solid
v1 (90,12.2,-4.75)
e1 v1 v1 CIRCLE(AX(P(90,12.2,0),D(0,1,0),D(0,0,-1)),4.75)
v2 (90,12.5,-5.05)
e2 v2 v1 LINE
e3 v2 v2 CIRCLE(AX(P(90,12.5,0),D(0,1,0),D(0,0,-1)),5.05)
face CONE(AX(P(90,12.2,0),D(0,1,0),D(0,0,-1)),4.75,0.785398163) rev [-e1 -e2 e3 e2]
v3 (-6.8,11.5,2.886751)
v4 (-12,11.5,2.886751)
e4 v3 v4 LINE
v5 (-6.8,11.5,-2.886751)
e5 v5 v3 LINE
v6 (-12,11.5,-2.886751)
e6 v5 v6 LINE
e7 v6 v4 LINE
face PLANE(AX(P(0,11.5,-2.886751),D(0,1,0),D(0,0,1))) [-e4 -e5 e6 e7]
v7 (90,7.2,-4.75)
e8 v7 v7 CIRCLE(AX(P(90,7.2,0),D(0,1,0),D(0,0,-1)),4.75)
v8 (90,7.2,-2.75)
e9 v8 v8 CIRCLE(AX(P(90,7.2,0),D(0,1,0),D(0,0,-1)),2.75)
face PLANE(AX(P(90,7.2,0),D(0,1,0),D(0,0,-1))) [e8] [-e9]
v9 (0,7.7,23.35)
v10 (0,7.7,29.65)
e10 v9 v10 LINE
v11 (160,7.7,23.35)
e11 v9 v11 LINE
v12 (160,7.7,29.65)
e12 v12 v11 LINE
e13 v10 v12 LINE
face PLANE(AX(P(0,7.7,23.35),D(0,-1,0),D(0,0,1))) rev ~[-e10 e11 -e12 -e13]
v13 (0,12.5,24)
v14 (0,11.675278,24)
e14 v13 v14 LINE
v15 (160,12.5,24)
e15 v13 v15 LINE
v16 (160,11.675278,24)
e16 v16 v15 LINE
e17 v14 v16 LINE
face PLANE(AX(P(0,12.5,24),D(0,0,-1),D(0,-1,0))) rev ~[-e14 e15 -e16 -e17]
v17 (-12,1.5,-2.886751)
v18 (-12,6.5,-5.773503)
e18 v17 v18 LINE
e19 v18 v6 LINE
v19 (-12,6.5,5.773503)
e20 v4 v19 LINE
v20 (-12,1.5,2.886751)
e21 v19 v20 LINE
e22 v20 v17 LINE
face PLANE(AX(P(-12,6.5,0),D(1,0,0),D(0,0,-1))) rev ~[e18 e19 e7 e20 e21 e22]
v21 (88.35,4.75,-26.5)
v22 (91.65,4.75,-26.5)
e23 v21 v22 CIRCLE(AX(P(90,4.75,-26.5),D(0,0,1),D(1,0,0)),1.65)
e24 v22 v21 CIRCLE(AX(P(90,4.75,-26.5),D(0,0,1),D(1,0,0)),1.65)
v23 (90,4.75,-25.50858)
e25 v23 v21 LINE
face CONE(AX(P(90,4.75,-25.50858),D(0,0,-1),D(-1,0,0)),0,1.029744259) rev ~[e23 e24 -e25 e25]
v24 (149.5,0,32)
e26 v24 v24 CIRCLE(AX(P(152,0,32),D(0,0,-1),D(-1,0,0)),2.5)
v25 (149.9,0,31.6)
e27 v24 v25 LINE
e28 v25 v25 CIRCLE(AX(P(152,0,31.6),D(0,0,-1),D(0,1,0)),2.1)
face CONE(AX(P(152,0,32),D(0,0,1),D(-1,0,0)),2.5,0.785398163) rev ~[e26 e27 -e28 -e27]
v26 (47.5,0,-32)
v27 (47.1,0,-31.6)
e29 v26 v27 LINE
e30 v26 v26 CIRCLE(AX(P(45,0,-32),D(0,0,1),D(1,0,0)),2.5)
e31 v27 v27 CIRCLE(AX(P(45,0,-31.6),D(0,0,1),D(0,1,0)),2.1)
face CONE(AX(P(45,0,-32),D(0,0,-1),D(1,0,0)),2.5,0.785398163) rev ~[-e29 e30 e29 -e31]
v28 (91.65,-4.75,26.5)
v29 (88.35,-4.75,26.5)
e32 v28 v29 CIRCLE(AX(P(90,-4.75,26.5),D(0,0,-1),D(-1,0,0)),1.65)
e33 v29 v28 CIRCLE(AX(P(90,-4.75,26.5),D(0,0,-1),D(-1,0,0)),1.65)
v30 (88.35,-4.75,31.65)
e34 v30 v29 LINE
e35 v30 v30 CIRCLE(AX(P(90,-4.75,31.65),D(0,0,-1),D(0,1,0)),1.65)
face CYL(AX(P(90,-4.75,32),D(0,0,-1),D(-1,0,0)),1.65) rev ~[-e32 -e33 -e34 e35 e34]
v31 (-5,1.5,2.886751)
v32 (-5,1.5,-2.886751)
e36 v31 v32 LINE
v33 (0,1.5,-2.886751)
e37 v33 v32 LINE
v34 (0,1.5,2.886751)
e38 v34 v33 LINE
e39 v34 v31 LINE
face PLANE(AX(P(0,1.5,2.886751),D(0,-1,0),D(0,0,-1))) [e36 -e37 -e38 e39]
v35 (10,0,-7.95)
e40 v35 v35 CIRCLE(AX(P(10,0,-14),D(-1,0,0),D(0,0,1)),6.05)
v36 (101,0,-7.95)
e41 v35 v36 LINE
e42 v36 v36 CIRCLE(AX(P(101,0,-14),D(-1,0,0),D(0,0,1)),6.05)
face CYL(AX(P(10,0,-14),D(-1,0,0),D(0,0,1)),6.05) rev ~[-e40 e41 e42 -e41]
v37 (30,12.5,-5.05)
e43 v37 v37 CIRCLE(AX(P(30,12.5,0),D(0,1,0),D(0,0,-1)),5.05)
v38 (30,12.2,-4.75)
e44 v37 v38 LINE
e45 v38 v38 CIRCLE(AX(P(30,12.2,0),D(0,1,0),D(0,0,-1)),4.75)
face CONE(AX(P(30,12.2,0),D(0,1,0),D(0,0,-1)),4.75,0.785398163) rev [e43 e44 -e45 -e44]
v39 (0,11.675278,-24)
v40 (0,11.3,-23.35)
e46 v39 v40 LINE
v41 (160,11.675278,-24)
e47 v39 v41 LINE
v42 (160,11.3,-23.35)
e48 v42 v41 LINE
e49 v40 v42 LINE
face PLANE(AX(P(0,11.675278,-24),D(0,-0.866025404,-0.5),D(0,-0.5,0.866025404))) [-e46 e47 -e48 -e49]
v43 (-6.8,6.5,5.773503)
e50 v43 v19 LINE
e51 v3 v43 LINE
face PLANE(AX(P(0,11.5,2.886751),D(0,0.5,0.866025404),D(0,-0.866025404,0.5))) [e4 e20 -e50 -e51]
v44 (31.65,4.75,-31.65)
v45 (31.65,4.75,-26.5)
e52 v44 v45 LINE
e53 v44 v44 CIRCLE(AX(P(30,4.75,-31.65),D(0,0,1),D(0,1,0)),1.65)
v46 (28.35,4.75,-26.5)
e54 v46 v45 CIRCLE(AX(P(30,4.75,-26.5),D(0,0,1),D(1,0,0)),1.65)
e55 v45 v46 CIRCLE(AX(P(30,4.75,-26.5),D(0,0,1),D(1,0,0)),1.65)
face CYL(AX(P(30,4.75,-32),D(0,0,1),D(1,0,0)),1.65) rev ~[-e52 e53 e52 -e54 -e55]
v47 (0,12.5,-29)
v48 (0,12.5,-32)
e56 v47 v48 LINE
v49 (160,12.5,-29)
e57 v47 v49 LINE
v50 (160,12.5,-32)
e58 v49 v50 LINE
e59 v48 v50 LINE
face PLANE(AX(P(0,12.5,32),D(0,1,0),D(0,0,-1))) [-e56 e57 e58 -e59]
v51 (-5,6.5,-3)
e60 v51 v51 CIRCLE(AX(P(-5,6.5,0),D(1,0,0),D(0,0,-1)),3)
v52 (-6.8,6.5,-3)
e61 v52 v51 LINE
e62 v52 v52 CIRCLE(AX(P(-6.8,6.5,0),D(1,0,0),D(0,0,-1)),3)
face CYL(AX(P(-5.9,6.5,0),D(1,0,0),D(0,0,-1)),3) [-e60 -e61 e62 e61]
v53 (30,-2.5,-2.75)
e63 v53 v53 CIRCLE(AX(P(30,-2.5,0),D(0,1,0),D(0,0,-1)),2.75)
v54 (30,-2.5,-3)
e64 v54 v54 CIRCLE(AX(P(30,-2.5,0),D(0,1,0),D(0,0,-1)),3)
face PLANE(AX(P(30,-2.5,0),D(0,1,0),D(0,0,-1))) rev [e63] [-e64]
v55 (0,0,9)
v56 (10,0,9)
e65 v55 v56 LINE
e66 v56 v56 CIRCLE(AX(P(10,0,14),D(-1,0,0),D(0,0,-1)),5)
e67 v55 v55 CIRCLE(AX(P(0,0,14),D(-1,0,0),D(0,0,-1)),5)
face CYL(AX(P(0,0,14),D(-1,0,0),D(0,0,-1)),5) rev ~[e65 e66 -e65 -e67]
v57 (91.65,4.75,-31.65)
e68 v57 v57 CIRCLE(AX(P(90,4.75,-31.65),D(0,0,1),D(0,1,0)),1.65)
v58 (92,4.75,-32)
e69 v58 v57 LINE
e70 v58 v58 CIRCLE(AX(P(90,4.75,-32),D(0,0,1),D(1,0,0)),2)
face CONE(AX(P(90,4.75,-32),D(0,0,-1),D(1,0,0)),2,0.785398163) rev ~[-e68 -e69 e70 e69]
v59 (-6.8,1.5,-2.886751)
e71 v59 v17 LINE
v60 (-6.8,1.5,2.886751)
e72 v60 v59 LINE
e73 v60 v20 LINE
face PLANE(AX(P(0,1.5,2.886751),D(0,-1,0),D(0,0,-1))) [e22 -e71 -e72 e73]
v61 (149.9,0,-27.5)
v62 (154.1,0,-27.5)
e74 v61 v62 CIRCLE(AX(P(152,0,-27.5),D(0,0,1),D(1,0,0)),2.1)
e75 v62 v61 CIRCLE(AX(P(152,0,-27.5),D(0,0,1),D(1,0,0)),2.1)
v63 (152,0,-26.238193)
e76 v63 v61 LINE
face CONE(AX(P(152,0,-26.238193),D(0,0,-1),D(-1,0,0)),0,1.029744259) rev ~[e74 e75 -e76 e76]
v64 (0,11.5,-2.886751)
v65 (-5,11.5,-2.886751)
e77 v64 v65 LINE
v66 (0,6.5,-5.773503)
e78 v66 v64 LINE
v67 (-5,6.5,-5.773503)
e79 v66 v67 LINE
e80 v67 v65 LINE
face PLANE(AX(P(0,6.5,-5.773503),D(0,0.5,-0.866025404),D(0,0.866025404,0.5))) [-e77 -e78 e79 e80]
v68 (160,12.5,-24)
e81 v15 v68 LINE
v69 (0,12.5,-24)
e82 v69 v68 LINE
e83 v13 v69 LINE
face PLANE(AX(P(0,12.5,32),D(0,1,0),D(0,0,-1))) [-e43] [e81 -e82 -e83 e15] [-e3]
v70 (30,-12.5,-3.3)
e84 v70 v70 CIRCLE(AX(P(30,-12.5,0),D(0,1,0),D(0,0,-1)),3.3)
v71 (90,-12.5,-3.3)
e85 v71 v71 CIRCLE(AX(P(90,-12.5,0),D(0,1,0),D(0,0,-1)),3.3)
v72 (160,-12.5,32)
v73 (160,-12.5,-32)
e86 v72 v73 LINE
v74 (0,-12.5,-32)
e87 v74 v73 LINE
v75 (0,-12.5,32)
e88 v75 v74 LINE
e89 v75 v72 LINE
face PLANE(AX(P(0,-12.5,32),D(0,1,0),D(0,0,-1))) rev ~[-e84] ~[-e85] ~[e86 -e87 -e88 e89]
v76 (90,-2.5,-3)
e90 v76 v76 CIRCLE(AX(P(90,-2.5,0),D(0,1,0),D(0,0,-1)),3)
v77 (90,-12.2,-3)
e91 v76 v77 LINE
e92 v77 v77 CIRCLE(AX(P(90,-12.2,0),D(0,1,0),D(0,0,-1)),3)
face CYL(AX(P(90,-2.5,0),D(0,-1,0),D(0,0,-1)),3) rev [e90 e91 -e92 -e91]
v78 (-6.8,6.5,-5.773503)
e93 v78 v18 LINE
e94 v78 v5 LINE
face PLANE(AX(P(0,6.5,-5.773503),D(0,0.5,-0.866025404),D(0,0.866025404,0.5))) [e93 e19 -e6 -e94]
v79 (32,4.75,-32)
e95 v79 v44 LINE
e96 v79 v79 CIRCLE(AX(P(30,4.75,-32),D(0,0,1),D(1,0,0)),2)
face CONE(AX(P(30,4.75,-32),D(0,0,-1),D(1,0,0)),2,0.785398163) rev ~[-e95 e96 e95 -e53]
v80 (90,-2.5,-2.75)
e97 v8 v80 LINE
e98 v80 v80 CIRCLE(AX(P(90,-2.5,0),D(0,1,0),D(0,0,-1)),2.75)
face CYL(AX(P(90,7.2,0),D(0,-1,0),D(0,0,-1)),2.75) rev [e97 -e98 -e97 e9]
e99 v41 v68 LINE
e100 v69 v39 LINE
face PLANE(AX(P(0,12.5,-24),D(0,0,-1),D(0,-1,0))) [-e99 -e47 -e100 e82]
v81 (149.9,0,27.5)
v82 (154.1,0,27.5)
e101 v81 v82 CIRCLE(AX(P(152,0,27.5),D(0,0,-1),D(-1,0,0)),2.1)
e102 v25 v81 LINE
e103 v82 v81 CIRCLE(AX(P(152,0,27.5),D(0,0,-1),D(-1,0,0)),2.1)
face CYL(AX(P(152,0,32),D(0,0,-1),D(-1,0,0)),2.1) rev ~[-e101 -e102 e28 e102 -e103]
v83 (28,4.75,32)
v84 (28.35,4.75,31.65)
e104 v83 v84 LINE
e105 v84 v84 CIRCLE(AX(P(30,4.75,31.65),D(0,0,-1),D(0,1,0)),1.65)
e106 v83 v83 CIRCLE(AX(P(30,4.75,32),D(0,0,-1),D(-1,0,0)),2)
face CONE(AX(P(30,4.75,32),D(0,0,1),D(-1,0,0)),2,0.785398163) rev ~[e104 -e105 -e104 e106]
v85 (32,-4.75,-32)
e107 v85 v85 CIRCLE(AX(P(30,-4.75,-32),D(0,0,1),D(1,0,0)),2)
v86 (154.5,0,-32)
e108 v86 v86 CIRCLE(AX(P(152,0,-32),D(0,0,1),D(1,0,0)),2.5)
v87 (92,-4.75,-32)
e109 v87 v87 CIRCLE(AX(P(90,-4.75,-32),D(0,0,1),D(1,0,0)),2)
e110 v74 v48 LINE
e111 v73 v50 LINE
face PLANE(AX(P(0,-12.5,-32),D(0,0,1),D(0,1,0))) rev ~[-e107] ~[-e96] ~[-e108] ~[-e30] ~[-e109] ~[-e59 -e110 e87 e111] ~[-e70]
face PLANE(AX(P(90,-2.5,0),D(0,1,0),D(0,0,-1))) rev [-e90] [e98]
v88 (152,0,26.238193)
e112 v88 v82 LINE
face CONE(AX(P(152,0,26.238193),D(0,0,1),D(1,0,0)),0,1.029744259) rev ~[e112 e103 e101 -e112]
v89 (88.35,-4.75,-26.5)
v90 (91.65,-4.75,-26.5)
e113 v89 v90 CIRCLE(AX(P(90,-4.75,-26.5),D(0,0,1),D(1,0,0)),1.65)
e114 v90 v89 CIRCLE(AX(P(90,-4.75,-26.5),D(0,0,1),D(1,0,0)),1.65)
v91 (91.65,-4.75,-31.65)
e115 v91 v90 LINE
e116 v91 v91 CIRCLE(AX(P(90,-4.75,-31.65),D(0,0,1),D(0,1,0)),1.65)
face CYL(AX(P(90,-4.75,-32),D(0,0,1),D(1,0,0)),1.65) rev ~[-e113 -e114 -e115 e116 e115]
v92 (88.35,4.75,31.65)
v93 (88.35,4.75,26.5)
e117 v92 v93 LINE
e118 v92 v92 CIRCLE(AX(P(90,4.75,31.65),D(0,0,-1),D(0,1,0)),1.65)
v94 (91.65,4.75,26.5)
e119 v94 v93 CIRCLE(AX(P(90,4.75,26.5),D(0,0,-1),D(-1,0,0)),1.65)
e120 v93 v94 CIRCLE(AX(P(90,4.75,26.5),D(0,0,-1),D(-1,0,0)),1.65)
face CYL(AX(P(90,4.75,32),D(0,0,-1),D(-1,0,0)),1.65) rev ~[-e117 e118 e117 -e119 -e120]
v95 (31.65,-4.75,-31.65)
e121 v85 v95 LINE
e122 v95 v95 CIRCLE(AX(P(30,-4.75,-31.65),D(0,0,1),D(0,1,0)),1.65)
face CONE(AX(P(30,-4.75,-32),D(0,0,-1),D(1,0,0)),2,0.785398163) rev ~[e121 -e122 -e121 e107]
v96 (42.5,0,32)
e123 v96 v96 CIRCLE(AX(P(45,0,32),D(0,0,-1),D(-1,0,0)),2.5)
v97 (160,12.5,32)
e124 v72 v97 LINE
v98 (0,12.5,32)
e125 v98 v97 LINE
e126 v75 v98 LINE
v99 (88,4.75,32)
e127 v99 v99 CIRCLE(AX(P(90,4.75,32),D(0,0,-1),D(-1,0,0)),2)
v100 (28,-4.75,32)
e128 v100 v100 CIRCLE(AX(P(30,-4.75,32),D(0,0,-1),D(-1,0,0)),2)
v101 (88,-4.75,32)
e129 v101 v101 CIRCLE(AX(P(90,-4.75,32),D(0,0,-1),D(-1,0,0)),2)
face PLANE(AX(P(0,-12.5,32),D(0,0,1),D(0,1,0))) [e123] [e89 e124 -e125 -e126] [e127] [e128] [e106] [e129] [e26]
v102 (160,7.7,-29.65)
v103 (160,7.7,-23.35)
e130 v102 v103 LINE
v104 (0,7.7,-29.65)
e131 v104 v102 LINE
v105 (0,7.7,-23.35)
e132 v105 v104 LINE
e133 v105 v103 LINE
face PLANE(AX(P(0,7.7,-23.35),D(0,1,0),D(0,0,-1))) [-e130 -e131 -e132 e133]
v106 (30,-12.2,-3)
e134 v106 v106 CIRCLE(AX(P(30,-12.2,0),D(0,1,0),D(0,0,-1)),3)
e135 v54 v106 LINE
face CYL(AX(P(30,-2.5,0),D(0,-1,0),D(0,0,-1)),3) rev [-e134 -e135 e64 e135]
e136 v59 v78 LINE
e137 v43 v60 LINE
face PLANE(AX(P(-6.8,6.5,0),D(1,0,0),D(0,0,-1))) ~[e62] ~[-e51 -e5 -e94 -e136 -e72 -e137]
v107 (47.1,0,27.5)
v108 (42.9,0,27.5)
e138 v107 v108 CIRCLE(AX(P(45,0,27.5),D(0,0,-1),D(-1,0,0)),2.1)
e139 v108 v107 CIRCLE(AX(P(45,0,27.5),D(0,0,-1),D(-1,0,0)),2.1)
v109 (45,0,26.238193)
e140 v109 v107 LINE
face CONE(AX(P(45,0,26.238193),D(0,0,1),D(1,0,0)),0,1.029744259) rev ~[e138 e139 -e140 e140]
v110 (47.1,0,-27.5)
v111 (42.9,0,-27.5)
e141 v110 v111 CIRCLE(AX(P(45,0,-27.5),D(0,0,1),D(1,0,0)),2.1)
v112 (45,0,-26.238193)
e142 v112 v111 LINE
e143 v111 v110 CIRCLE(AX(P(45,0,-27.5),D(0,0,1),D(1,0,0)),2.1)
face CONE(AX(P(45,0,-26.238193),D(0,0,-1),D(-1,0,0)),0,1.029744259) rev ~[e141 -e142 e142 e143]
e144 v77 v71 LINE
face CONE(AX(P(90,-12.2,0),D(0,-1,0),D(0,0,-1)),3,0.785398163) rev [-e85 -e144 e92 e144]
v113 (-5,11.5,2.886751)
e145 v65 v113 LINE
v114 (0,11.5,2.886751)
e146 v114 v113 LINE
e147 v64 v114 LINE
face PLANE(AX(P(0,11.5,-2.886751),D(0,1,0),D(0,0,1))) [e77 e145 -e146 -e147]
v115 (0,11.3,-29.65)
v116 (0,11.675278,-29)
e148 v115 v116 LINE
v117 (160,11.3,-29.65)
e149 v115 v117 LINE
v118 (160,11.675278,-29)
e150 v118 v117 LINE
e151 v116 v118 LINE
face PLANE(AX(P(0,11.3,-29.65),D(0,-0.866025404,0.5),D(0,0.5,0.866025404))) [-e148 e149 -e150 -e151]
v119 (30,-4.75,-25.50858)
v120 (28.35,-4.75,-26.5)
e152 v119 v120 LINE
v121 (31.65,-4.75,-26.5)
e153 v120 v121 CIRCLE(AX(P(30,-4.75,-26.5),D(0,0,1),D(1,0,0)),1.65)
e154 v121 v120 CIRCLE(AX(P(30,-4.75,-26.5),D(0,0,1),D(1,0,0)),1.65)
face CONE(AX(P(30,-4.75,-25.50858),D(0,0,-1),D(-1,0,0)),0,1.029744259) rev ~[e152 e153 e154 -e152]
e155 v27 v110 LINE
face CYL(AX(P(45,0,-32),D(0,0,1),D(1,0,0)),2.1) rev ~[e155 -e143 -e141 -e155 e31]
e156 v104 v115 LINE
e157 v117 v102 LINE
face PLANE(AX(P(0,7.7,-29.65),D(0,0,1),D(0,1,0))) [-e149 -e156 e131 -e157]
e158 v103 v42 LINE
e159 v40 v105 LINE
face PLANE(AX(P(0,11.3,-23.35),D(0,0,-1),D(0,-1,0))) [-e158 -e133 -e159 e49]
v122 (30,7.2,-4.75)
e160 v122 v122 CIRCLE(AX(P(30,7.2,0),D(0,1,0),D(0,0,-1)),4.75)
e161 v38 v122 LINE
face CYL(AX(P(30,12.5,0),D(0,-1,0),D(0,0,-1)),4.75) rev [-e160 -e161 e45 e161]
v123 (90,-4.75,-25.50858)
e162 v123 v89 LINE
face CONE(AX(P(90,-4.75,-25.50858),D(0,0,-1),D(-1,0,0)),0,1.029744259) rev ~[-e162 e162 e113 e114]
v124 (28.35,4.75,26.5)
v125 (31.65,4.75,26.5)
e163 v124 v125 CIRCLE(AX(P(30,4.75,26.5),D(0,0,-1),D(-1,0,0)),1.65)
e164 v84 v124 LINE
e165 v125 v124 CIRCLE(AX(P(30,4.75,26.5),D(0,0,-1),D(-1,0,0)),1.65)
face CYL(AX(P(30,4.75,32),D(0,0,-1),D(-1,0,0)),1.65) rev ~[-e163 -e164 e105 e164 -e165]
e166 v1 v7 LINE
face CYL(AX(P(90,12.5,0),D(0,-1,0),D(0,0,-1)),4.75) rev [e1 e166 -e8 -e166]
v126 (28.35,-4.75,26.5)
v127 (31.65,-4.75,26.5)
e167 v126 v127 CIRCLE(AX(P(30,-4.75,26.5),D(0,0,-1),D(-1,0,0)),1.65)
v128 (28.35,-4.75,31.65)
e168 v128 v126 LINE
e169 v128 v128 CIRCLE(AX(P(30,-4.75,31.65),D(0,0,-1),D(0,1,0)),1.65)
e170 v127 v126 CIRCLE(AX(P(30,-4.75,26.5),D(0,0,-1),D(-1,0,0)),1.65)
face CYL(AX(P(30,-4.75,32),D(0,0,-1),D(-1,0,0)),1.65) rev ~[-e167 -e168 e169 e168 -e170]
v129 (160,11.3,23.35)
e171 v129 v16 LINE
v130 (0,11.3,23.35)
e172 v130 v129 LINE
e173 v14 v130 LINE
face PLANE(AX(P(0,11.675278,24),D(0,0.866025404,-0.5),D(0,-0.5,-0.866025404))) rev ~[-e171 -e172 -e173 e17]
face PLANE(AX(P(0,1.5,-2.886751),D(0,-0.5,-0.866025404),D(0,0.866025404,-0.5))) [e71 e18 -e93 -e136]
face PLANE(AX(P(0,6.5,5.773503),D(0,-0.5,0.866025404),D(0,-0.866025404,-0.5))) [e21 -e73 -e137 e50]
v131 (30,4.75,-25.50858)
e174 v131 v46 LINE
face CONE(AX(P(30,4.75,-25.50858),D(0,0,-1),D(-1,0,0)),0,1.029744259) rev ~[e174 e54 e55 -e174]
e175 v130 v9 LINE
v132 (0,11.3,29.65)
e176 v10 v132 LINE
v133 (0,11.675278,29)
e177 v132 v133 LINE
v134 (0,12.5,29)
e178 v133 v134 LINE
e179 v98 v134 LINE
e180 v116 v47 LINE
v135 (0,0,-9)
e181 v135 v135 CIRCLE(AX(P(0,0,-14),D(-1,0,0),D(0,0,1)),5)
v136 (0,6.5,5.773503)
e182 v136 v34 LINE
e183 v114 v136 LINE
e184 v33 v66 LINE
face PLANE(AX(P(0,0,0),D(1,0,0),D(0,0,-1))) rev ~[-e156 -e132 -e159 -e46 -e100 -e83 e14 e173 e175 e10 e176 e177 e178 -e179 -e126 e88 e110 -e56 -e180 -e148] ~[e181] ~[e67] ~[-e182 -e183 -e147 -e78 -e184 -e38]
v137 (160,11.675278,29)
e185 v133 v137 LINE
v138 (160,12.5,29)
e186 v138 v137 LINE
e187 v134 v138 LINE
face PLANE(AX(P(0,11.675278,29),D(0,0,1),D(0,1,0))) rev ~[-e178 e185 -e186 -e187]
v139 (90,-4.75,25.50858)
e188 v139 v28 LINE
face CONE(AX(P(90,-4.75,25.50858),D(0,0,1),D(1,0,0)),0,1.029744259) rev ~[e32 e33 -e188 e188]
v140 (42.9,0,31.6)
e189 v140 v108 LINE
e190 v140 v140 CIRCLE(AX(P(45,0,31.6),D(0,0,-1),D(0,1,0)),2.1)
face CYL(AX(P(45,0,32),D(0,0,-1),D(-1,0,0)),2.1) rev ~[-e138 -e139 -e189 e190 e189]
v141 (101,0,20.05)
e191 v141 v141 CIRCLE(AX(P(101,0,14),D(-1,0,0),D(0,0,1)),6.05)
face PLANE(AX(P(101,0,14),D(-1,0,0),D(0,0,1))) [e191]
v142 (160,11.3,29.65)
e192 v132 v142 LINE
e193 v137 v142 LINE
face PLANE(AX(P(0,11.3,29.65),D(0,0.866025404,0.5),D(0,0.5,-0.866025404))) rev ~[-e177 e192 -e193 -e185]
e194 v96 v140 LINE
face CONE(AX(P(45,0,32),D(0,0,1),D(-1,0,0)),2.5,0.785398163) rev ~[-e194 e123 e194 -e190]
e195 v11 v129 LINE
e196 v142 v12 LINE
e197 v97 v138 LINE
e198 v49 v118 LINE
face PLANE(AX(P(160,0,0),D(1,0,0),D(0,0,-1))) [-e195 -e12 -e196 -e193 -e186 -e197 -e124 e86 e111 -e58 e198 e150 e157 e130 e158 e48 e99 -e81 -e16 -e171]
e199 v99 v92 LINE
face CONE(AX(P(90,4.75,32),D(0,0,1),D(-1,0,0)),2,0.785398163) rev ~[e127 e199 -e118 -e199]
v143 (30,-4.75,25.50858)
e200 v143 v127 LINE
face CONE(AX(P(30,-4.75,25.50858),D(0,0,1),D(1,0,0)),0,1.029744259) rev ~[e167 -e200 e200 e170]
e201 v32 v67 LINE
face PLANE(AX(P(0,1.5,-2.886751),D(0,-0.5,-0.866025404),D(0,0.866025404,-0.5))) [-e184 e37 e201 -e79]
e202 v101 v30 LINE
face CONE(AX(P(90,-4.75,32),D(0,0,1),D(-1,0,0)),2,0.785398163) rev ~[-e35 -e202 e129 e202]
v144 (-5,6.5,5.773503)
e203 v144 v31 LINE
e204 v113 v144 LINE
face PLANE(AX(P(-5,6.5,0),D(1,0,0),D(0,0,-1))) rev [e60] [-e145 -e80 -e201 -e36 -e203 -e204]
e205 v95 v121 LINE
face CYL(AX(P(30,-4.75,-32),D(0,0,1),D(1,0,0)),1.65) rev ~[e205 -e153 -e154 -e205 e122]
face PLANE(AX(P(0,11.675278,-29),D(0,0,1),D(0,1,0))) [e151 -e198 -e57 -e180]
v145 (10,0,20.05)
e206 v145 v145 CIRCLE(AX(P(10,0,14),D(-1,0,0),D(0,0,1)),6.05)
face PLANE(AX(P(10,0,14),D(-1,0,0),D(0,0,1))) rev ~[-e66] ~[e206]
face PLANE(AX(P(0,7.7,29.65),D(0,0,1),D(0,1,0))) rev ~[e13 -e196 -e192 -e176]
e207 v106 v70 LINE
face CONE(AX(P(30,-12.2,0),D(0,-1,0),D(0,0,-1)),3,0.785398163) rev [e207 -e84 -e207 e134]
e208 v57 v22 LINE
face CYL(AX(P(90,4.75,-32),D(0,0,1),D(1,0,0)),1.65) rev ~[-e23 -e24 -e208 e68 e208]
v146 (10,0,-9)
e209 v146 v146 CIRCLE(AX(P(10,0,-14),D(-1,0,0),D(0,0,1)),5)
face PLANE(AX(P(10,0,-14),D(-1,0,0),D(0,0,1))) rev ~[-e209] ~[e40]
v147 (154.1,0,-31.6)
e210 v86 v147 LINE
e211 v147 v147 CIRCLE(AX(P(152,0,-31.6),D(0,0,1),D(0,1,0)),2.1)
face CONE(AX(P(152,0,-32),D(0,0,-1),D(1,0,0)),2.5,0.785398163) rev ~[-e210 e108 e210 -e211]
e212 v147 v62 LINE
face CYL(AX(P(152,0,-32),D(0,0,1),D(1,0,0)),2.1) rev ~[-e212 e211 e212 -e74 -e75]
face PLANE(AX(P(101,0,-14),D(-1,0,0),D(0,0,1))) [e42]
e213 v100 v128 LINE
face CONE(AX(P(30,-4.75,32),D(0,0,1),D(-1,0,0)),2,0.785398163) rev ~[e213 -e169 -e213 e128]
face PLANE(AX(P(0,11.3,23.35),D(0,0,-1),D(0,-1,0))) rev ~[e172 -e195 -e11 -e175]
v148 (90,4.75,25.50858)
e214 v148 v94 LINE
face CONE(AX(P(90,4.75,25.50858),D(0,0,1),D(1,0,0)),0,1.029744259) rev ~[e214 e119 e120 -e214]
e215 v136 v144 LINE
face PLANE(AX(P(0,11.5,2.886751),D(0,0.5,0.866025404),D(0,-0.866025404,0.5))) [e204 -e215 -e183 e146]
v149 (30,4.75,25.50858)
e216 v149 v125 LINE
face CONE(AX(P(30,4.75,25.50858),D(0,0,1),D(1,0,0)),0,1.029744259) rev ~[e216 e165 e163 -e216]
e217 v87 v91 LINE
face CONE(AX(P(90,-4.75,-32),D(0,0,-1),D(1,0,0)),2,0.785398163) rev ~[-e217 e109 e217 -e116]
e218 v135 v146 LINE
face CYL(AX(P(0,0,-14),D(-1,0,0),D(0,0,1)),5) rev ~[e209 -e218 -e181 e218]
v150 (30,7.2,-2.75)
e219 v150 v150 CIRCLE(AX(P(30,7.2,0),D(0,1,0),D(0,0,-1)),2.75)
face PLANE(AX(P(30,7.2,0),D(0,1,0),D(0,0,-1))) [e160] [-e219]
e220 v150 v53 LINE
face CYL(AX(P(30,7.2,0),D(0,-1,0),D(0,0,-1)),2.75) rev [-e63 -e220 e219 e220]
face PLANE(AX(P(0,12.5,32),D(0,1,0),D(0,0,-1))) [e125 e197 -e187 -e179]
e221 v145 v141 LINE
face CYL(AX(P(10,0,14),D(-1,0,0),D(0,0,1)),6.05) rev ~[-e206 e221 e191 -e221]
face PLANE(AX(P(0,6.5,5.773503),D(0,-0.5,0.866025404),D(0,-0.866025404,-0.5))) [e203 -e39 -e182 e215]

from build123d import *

# Parameters (mm, degrees)
BODY_SKETCH_W                                = 64
BODY_SKETCH_H                                = 25
BODY_DEPTH                                   = 160
BODY_ROD_HOLES_SKETCH_R                      = 5
BODY_ROD_HOLES_DEPTH                         = 10
BODY_PISTON_HOLES_SKETCH_R                   = 6.05
BODY_PISTON_HOLES_DEPTH                      = 91
TOP_SWITCH_GROOVES_DEPTH                     = 164.646723157
SHCS_MGT_HOLE_CHAM_SIZE                      = 0.3
SHCS_MGT_HOLE_PAT_COUNT                      = 2
SHCS_MGT_HOLE_PAT_PITCH                      = 60
SHCS_MGT_HOLE_CHAM_OF_SHCS_MGT_HOLE_PAT_SIZE = 0.3
SHCS_MGT_HOLE_BOT_TAP_AT_2_COUNT             = 2
SHCS_MGT_HOLE_BOT_TAP_AT_2_PITCH             = 60
ADJUSTER_NUT_DEPTH                           = 12
ADJUSTER_NUT_THREADS_SKETCH_W                = 1.8
ADJUSTER_NUT_THREADS_SKETCH_H                = 25
TAP_DRILL_FOR_M5X0_8_TAP1_D                  = 4.2
TAP_DRILL_FOR_M5X0_8_TAP1_DEPTH              = 4.5
TAP_DRILL_FOR_M5X0_8_TAP1_CSINK_D            = 5
TAP_DRILL_FOR_M5X0_8_TAP1_CSINK_ANGLE        = 90
TAP_DRILL_FOR_M5X0_8_TAP1_TIP                = 1.2618073
TAP_DRILL_FOR_M5X0_8_TAP2_D                  = 4.2
TAP_DRILL_FOR_M5X0_8_TAP2_DEPTH              = 4.5
TAP_DRILL_FOR_M5X0_8_TAP2_CSINK_D            = 5
TAP_DRILL_FOR_M5X0_8_TAP2_CSINK_ANGLE        = 90
TAP_DRILL_FOR_M5X0_8_TAP2_TIP                = 1.2618073
MOUNT_HOLES_1_D                              = 3.3
MOUNT_HOLES_1_DEPTH                          = 5.5
MOUNT_HOLES_1_CSINK_D                        = 4
MOUNT_HOLES_1_CSINK_ANGLE                    = 90
MOUNT_HOLES_1_TIP                            = 0.991420021
MOUNT_HOLES_2_D                              = 3.3
MOUNT_HOLES_2_DEPTH                          = 5.5
MOUNT_HOLES_2_CSINK_D                        = 4
MOUNT_HOLES_2_CSINK_ANGLE                    = 90
MOUNT_HOLES_2_TIP                            = 0.991420021
MOUNT_HOLES_3_D                              = 3.3
MOUNT_HOLES_3_DEPTH                          = 5.5
MOUNT_HOLES_3_CSINK_D                        = 4
MOUNT_HOLES_3_CSINK_ANGLE                    = 90
MOUNT_HOLES_3_TIP                            = 0.991420021
MOUNT_HOLES_4_D                              = 3.3
MOUNT_HOLES_4_DEPTH                          = 5.5
MOUNT_HOLES_4_CSINK_D                        = 4
MOUNT_HOLES_4_CSINK_ANGLE                    = 90
MOUNT_HOLES_4_TIP                            = 0.991420021


with BuildPart() as part:
    # Body_Sketch → Body (new body)
    with BuildSketch(Plane(origin=(0, 0, 0), x_dir=(0, 0, -1), z_dir=(1, 0, 0))):
        Rectangle(BODY_SKETCH_W, BODY_SKETCH_H)
    extrude(amount=BODY_DEPTH)

    # Body Rod Holes_Sketch → Body Rod Holes (cut)
    with BuildSketch(Plane.ZY):
        with Locations((-14, 0)):
            Circle(BODY_ROD_HOLES_SKETCH_R)
        with Locations(Location((14, 0, 0), (0, 0, 180))):
            Circle(BODY_ROD_HOLES_SKETCH_R)
    extrude(amount=-BODY_ROD_HOLES_DEPTH, mode=Mode.SUBTRACT)

    # Body Piston Holes_Sketch → Body Piston Holes (cut)
    with BuildSketch(Plane.ZY.offset(-10)):
        with Locations((14, 0)):
            Circle(BODY_PISTON_HOLES_SKETCH_R)
        with Locations((-14, 0)):
            Circle(BODY_PISTON_HOLES_SKETCH_R)
    extrude(amount=-BODY_PISTON_HOLES_DEPTH, mode=Mode.SUBTRACT)

    # Top Switch Grooves_Sketch → Top Switch Grooves (cut, through all)
    with BuildSketch(Plane.ZY):
        Polygon((23.35, 7.7), (29.65, 7.7), (29.65, 11.3), (29, 11.675277675), (29, 12.5), (24, 12.5), (24, 11.675277675), (23.35, 11.3), align=None)
        Polygon((-23.35, 11.3), (-23.35, 7.7), (-29.65, 7.7), (-29.65, 11.3), (-29, 11.675277675), (-29, 12.5), (-24, 12.5), (-24, 11.675277675), align=None)
    extrude(amount=-TOP_SWITCH_GROOVES_DEPTH, mode=Mode.SUBTRACT)

    # SHCS MGT Hole_Sketch → SHCS MGT Hole (revolve, cut)
    with BuildSketch(Plane.XY, mode=Mode.PRIVATE) as shcs_mgt_hole_sk:
        Polygon((30, 12.5), (25.25, 12.5), (25.25, 7.2), (27.25, 7.2), (27.25, -12.5), (30, -12.5), align=None)
    shcs_mgt_hole = revolve(shcs_mgt_hole_sk.sketch.rotate(Axis((30, -11.506886035, 0), (0, 1, 0)), 270), axis=Axis((30, -11.506886035, 0), (0, 1, 0)), mode=Mode.SUBTRACT)

    # SHCS MGT Hole Cham
    shcs_mgt_hole_cham_edges = [part.edges().sort_by_distance(p)[0] for p in [
        (30, 12.5, 4.75),
    ]]
    chamfer(shcs_mgt_hole_cham_edges, length=SHCS_MGT_HOLE_CHAM_SIZE)

    # SHCS MGT Hole Pat: SHCS MGT Hole ×2
    with Locations(*[(i * SHCS_MGT_HOLE_PAT_PITCH, 0, 0) for i in range(1, SHCS_MGT_HOLE_PAT_COUNT)]):
        add(shcs_mgt_hole, mode=Mode.SUBTRACT)

    # SHCS MGT Hole Cham of SHCS MGT Hole Pat
    shcs_mgt_hole_cham_of_shcs_mgt_hole_pat_edges = [part.edges().sort_by_distance(p)[0] for p in [
        (90, 12.5, 4.75),
    ]]
    chamfer(shcs_mgt_hole_cham_of_shcs_mgt_hole_pat_edges, length=SHCS_MGT_HOLE_CHAM_OF_SHCS_MGT_HOLE_PAT_SIZE)

    # SHCS MGT Hole Bot Tap Profile → SHCS MGT Hole Bot Tap (revolve, cut)
    with BuildSketch(Plane(origin=(30, -12.5, 0), x_dir=(0, 0, -1), z_dir=(1, 0, 0))):
        Polygon((0, 0), (0, 12.652366702), (2.75, 11), (2.75, 10), (3, 10), (3, 0.3), (3.3, 0), align=None)
    shcs_mgt_hole_bot_tap = revolve(axis=Axis((30, -18.85, 0), (0, 1, 0)), mode=Mode.SUBTRACT)

    # SHCS MGT Hole Bot Tap at 2: SHCS MGT Hole Bot Tap ×2
    with Locations(*[(i * SHCS_MGT_HOLE_BOT_TAP_AT_2_PITCH, 0, 0) for i in range(1, SHCS_MGT_HOLE_BOT_TAP_AT_2_COUNT)]):
        add(shcs_mgt_hole_bot_tap, mode=Mode.SUBTRACT)

    # Adjuster Nut_Sketch → Adjuster Nut (add)
    with BuildSketch(Plane.ZY):
        Polygon((-2.886751346, 11.5), (2.886751346, 11.5), (5.773502692, 6.5), (2.886751346, 1.5), (-2.886751346, 1.5), (-5.773502692, 6.5), align=None)
    extrude(amount=ADJUSTER_NUT_DEPTH)

    # Adjuster Nut Threads_Sketch → Adjuster Nut Threads (revolve, cut)
    with BuildSketch(Plane.XY, mode=Mode.PRIVATE) as adjuster_nut_threads_sk:
        with Locations((-5.9, 22)):
            Rectangle(ADJUSTER_NUT_THREADS_SKETCH_W, ADJUSTER_NUT_THREADS_SKETCH_H)
    revolve(adjuster_nut_threads_sk.sketch.rotate(Axis((-6.476, 6.5, 0), (1, 0, 0)), 270), axis=Axis((-6.476, 6.5, 0), (1, 0, 0)), mode=Mode.SUBTRACT)

    # Tap Drill for M5x0.8 Tap1
    with Locations(Plane.XY.offset(32)):
        with Locations((45, 0), (152, 0)):
            CounterSinkHole(TAP_DRILL_FOR_M5X0_8_TAP1_D / 2, TAP_DRILL_FOR_M5X0_8_TAP1_CSINK_D / 2, depth=TAP_DRILL_FOR_M5X0_8_TAP1_DEPTH, counter_sink_angle=TAP_DRILL_FOR_M5X0_8_TAP1_CSINK_ANGLE)
            with Locations((0, 0, -(TAP_DRILL_FOR_M5X0_8_TAP1_DEPTH + TAP_DRILL_FOR_M5X0_8_TAP1_TIP / 2))):  # 118° drill point
                Cone(0, TAP_DRILL_FOR_M5X0_8_TAP1_D / 2, TAP_DRILL_FOR_M5X0_8_TAP1_TIP, mode=Mode.SUBTRACT)

    # Tap Drill for M5x0.8 Tap2
    with Locations(Plane(origin=(0, 0, -32), x_dir=(-1, 0, 0), z_dir=(0, 0, -1))):
        with Locations((-152, 0), (-45, 0)):
            CounterSinkHole(TAP_DRILL_FOR_M5X0_8_TAP2_D / 2, TAP_DRILL_FOR_M5X0_8_TAP2_CSINK_D / 2, depth=TAP_DRILL_FOR_M5X0_8_TAP2_DEPTH, counter_sink_angle=TAP_DRILL_FOR_M5X0_8_TAP2_CSINK_ANGLE)
            with Locations((0, 0, -(TAP_DRILL_FOR_M5X0_8_TAP2_DEPTH + TAP_DRILL_FOR_M5X0_8_TAP2_TIP / 2))):  # 118° drill point
                Cone(0, TAP_DRILL_FOR_M5X0_8_TAP2_D / 2, TAP_DRILL_FOR_M5X0_8_TAP2_TIP, mode=Mode.SUBTRACT)

    # Mount_Holes_1
    with Locations(Plane.XY.offset(32)):
        with Locations((30, -4.75), (90, -4.75)):
            CounterSinkHole(MOUNT_HOLES_1_D / 2, MOUNT_HOLES_1_CSINK_D / 2, depth=MOUNT_HOLES_1_DEPTH, counter_sink_angle=MOUNT_HOLES_1_CSINK_ANGLE)
            with Locations((0, 0, -(MOUNT_HOLES_1_DEPTH + MOUNT_HOLES_1_TIP / 2))):  # 118° drill point
                Cone(0, MOUNT_HOLES_1_D / 2, MOUNT_HOLES_1_TIP, mode=Mode.SUBTRACT)

    # Mount_Holes_2
    with Locations(Plane(origin=(0, 0, -32), x_dir=(-1, 0, 0), z_dir=(0, 0, -1))):
        with Locations((-90, -4.75), (-30, -4.75)):
            CounterSinkHole(MOUNT_HOLES_2_D / 2, MOUNT_HOLES_2_CSINK_D / 2, depth=MOUNT_HOLES_2_DEPTH, counter_sink_angle=MOUNT_HOLES_2_CSINK_ANGLE)
            with Locations((0, 0, -(MOUNT_HOLES_2_DEPTH + MOUNT_HOLES_2_TIP / 2))):  # 118° drill point
                Cone(0, MOUNT_HOLES_2_D / 2, MOUNT_HOLES_2_TIP, mode=Mode.SUBTRACT)

    # Mount_Holes_3
    with Locations(Plane.XY.offset(32)):
        with Locations((30, 4.75), (90, 4.75)):
            CounterSinkHole(MOUNT_HOLES_3_D / 2, MOUNT_HOLES_3_CSINK_D / 2, depth=MOUNT_HOLES_3_DEPTH, counter_sink_angle=MOUNT_HOLES_3_CSINK_ANGLE)
            with Locations((0, 0, -(MOUNT_HOLES_3_DEPTH + MOUNT_HOLES_3_TIP / 2))):  # 118° drill point
                Cone(0, MOUNT_HOLES_3_D / 2, MOUNT_HOLES_3_TIP, mode=Mode.SUBTRACT)

    # Mount_Holes_4
    with Locations(Plane(origin=(0, 0, -32), x_dir=(-1, 0, 0), z_dir=(0, 0, -1))):
        with Locations((-90, 4.75), (-30, 4.75)):
            CounterSinkHole(MOUNT_HOLES_4_D / 2, MOUNT_HOLES_4_CSINK_D / 2, depth=MOUNT_HOLES_4_DEPTH, counter_sink_angle=MOUNT_HOLES_4_CSINK_ANGLE)
            with Locations((0, 0, -(MOUNT_HOLES_4_DEPTH + MOUNT_HOLES_4_TIP / 2))):  # 118° drill point
                Cone(0, MOUNT_HOLES_4_D / 2, MOUNT_HOLES_4_TIP, mode=Mode.SUBTRACT)


solid = part.part
